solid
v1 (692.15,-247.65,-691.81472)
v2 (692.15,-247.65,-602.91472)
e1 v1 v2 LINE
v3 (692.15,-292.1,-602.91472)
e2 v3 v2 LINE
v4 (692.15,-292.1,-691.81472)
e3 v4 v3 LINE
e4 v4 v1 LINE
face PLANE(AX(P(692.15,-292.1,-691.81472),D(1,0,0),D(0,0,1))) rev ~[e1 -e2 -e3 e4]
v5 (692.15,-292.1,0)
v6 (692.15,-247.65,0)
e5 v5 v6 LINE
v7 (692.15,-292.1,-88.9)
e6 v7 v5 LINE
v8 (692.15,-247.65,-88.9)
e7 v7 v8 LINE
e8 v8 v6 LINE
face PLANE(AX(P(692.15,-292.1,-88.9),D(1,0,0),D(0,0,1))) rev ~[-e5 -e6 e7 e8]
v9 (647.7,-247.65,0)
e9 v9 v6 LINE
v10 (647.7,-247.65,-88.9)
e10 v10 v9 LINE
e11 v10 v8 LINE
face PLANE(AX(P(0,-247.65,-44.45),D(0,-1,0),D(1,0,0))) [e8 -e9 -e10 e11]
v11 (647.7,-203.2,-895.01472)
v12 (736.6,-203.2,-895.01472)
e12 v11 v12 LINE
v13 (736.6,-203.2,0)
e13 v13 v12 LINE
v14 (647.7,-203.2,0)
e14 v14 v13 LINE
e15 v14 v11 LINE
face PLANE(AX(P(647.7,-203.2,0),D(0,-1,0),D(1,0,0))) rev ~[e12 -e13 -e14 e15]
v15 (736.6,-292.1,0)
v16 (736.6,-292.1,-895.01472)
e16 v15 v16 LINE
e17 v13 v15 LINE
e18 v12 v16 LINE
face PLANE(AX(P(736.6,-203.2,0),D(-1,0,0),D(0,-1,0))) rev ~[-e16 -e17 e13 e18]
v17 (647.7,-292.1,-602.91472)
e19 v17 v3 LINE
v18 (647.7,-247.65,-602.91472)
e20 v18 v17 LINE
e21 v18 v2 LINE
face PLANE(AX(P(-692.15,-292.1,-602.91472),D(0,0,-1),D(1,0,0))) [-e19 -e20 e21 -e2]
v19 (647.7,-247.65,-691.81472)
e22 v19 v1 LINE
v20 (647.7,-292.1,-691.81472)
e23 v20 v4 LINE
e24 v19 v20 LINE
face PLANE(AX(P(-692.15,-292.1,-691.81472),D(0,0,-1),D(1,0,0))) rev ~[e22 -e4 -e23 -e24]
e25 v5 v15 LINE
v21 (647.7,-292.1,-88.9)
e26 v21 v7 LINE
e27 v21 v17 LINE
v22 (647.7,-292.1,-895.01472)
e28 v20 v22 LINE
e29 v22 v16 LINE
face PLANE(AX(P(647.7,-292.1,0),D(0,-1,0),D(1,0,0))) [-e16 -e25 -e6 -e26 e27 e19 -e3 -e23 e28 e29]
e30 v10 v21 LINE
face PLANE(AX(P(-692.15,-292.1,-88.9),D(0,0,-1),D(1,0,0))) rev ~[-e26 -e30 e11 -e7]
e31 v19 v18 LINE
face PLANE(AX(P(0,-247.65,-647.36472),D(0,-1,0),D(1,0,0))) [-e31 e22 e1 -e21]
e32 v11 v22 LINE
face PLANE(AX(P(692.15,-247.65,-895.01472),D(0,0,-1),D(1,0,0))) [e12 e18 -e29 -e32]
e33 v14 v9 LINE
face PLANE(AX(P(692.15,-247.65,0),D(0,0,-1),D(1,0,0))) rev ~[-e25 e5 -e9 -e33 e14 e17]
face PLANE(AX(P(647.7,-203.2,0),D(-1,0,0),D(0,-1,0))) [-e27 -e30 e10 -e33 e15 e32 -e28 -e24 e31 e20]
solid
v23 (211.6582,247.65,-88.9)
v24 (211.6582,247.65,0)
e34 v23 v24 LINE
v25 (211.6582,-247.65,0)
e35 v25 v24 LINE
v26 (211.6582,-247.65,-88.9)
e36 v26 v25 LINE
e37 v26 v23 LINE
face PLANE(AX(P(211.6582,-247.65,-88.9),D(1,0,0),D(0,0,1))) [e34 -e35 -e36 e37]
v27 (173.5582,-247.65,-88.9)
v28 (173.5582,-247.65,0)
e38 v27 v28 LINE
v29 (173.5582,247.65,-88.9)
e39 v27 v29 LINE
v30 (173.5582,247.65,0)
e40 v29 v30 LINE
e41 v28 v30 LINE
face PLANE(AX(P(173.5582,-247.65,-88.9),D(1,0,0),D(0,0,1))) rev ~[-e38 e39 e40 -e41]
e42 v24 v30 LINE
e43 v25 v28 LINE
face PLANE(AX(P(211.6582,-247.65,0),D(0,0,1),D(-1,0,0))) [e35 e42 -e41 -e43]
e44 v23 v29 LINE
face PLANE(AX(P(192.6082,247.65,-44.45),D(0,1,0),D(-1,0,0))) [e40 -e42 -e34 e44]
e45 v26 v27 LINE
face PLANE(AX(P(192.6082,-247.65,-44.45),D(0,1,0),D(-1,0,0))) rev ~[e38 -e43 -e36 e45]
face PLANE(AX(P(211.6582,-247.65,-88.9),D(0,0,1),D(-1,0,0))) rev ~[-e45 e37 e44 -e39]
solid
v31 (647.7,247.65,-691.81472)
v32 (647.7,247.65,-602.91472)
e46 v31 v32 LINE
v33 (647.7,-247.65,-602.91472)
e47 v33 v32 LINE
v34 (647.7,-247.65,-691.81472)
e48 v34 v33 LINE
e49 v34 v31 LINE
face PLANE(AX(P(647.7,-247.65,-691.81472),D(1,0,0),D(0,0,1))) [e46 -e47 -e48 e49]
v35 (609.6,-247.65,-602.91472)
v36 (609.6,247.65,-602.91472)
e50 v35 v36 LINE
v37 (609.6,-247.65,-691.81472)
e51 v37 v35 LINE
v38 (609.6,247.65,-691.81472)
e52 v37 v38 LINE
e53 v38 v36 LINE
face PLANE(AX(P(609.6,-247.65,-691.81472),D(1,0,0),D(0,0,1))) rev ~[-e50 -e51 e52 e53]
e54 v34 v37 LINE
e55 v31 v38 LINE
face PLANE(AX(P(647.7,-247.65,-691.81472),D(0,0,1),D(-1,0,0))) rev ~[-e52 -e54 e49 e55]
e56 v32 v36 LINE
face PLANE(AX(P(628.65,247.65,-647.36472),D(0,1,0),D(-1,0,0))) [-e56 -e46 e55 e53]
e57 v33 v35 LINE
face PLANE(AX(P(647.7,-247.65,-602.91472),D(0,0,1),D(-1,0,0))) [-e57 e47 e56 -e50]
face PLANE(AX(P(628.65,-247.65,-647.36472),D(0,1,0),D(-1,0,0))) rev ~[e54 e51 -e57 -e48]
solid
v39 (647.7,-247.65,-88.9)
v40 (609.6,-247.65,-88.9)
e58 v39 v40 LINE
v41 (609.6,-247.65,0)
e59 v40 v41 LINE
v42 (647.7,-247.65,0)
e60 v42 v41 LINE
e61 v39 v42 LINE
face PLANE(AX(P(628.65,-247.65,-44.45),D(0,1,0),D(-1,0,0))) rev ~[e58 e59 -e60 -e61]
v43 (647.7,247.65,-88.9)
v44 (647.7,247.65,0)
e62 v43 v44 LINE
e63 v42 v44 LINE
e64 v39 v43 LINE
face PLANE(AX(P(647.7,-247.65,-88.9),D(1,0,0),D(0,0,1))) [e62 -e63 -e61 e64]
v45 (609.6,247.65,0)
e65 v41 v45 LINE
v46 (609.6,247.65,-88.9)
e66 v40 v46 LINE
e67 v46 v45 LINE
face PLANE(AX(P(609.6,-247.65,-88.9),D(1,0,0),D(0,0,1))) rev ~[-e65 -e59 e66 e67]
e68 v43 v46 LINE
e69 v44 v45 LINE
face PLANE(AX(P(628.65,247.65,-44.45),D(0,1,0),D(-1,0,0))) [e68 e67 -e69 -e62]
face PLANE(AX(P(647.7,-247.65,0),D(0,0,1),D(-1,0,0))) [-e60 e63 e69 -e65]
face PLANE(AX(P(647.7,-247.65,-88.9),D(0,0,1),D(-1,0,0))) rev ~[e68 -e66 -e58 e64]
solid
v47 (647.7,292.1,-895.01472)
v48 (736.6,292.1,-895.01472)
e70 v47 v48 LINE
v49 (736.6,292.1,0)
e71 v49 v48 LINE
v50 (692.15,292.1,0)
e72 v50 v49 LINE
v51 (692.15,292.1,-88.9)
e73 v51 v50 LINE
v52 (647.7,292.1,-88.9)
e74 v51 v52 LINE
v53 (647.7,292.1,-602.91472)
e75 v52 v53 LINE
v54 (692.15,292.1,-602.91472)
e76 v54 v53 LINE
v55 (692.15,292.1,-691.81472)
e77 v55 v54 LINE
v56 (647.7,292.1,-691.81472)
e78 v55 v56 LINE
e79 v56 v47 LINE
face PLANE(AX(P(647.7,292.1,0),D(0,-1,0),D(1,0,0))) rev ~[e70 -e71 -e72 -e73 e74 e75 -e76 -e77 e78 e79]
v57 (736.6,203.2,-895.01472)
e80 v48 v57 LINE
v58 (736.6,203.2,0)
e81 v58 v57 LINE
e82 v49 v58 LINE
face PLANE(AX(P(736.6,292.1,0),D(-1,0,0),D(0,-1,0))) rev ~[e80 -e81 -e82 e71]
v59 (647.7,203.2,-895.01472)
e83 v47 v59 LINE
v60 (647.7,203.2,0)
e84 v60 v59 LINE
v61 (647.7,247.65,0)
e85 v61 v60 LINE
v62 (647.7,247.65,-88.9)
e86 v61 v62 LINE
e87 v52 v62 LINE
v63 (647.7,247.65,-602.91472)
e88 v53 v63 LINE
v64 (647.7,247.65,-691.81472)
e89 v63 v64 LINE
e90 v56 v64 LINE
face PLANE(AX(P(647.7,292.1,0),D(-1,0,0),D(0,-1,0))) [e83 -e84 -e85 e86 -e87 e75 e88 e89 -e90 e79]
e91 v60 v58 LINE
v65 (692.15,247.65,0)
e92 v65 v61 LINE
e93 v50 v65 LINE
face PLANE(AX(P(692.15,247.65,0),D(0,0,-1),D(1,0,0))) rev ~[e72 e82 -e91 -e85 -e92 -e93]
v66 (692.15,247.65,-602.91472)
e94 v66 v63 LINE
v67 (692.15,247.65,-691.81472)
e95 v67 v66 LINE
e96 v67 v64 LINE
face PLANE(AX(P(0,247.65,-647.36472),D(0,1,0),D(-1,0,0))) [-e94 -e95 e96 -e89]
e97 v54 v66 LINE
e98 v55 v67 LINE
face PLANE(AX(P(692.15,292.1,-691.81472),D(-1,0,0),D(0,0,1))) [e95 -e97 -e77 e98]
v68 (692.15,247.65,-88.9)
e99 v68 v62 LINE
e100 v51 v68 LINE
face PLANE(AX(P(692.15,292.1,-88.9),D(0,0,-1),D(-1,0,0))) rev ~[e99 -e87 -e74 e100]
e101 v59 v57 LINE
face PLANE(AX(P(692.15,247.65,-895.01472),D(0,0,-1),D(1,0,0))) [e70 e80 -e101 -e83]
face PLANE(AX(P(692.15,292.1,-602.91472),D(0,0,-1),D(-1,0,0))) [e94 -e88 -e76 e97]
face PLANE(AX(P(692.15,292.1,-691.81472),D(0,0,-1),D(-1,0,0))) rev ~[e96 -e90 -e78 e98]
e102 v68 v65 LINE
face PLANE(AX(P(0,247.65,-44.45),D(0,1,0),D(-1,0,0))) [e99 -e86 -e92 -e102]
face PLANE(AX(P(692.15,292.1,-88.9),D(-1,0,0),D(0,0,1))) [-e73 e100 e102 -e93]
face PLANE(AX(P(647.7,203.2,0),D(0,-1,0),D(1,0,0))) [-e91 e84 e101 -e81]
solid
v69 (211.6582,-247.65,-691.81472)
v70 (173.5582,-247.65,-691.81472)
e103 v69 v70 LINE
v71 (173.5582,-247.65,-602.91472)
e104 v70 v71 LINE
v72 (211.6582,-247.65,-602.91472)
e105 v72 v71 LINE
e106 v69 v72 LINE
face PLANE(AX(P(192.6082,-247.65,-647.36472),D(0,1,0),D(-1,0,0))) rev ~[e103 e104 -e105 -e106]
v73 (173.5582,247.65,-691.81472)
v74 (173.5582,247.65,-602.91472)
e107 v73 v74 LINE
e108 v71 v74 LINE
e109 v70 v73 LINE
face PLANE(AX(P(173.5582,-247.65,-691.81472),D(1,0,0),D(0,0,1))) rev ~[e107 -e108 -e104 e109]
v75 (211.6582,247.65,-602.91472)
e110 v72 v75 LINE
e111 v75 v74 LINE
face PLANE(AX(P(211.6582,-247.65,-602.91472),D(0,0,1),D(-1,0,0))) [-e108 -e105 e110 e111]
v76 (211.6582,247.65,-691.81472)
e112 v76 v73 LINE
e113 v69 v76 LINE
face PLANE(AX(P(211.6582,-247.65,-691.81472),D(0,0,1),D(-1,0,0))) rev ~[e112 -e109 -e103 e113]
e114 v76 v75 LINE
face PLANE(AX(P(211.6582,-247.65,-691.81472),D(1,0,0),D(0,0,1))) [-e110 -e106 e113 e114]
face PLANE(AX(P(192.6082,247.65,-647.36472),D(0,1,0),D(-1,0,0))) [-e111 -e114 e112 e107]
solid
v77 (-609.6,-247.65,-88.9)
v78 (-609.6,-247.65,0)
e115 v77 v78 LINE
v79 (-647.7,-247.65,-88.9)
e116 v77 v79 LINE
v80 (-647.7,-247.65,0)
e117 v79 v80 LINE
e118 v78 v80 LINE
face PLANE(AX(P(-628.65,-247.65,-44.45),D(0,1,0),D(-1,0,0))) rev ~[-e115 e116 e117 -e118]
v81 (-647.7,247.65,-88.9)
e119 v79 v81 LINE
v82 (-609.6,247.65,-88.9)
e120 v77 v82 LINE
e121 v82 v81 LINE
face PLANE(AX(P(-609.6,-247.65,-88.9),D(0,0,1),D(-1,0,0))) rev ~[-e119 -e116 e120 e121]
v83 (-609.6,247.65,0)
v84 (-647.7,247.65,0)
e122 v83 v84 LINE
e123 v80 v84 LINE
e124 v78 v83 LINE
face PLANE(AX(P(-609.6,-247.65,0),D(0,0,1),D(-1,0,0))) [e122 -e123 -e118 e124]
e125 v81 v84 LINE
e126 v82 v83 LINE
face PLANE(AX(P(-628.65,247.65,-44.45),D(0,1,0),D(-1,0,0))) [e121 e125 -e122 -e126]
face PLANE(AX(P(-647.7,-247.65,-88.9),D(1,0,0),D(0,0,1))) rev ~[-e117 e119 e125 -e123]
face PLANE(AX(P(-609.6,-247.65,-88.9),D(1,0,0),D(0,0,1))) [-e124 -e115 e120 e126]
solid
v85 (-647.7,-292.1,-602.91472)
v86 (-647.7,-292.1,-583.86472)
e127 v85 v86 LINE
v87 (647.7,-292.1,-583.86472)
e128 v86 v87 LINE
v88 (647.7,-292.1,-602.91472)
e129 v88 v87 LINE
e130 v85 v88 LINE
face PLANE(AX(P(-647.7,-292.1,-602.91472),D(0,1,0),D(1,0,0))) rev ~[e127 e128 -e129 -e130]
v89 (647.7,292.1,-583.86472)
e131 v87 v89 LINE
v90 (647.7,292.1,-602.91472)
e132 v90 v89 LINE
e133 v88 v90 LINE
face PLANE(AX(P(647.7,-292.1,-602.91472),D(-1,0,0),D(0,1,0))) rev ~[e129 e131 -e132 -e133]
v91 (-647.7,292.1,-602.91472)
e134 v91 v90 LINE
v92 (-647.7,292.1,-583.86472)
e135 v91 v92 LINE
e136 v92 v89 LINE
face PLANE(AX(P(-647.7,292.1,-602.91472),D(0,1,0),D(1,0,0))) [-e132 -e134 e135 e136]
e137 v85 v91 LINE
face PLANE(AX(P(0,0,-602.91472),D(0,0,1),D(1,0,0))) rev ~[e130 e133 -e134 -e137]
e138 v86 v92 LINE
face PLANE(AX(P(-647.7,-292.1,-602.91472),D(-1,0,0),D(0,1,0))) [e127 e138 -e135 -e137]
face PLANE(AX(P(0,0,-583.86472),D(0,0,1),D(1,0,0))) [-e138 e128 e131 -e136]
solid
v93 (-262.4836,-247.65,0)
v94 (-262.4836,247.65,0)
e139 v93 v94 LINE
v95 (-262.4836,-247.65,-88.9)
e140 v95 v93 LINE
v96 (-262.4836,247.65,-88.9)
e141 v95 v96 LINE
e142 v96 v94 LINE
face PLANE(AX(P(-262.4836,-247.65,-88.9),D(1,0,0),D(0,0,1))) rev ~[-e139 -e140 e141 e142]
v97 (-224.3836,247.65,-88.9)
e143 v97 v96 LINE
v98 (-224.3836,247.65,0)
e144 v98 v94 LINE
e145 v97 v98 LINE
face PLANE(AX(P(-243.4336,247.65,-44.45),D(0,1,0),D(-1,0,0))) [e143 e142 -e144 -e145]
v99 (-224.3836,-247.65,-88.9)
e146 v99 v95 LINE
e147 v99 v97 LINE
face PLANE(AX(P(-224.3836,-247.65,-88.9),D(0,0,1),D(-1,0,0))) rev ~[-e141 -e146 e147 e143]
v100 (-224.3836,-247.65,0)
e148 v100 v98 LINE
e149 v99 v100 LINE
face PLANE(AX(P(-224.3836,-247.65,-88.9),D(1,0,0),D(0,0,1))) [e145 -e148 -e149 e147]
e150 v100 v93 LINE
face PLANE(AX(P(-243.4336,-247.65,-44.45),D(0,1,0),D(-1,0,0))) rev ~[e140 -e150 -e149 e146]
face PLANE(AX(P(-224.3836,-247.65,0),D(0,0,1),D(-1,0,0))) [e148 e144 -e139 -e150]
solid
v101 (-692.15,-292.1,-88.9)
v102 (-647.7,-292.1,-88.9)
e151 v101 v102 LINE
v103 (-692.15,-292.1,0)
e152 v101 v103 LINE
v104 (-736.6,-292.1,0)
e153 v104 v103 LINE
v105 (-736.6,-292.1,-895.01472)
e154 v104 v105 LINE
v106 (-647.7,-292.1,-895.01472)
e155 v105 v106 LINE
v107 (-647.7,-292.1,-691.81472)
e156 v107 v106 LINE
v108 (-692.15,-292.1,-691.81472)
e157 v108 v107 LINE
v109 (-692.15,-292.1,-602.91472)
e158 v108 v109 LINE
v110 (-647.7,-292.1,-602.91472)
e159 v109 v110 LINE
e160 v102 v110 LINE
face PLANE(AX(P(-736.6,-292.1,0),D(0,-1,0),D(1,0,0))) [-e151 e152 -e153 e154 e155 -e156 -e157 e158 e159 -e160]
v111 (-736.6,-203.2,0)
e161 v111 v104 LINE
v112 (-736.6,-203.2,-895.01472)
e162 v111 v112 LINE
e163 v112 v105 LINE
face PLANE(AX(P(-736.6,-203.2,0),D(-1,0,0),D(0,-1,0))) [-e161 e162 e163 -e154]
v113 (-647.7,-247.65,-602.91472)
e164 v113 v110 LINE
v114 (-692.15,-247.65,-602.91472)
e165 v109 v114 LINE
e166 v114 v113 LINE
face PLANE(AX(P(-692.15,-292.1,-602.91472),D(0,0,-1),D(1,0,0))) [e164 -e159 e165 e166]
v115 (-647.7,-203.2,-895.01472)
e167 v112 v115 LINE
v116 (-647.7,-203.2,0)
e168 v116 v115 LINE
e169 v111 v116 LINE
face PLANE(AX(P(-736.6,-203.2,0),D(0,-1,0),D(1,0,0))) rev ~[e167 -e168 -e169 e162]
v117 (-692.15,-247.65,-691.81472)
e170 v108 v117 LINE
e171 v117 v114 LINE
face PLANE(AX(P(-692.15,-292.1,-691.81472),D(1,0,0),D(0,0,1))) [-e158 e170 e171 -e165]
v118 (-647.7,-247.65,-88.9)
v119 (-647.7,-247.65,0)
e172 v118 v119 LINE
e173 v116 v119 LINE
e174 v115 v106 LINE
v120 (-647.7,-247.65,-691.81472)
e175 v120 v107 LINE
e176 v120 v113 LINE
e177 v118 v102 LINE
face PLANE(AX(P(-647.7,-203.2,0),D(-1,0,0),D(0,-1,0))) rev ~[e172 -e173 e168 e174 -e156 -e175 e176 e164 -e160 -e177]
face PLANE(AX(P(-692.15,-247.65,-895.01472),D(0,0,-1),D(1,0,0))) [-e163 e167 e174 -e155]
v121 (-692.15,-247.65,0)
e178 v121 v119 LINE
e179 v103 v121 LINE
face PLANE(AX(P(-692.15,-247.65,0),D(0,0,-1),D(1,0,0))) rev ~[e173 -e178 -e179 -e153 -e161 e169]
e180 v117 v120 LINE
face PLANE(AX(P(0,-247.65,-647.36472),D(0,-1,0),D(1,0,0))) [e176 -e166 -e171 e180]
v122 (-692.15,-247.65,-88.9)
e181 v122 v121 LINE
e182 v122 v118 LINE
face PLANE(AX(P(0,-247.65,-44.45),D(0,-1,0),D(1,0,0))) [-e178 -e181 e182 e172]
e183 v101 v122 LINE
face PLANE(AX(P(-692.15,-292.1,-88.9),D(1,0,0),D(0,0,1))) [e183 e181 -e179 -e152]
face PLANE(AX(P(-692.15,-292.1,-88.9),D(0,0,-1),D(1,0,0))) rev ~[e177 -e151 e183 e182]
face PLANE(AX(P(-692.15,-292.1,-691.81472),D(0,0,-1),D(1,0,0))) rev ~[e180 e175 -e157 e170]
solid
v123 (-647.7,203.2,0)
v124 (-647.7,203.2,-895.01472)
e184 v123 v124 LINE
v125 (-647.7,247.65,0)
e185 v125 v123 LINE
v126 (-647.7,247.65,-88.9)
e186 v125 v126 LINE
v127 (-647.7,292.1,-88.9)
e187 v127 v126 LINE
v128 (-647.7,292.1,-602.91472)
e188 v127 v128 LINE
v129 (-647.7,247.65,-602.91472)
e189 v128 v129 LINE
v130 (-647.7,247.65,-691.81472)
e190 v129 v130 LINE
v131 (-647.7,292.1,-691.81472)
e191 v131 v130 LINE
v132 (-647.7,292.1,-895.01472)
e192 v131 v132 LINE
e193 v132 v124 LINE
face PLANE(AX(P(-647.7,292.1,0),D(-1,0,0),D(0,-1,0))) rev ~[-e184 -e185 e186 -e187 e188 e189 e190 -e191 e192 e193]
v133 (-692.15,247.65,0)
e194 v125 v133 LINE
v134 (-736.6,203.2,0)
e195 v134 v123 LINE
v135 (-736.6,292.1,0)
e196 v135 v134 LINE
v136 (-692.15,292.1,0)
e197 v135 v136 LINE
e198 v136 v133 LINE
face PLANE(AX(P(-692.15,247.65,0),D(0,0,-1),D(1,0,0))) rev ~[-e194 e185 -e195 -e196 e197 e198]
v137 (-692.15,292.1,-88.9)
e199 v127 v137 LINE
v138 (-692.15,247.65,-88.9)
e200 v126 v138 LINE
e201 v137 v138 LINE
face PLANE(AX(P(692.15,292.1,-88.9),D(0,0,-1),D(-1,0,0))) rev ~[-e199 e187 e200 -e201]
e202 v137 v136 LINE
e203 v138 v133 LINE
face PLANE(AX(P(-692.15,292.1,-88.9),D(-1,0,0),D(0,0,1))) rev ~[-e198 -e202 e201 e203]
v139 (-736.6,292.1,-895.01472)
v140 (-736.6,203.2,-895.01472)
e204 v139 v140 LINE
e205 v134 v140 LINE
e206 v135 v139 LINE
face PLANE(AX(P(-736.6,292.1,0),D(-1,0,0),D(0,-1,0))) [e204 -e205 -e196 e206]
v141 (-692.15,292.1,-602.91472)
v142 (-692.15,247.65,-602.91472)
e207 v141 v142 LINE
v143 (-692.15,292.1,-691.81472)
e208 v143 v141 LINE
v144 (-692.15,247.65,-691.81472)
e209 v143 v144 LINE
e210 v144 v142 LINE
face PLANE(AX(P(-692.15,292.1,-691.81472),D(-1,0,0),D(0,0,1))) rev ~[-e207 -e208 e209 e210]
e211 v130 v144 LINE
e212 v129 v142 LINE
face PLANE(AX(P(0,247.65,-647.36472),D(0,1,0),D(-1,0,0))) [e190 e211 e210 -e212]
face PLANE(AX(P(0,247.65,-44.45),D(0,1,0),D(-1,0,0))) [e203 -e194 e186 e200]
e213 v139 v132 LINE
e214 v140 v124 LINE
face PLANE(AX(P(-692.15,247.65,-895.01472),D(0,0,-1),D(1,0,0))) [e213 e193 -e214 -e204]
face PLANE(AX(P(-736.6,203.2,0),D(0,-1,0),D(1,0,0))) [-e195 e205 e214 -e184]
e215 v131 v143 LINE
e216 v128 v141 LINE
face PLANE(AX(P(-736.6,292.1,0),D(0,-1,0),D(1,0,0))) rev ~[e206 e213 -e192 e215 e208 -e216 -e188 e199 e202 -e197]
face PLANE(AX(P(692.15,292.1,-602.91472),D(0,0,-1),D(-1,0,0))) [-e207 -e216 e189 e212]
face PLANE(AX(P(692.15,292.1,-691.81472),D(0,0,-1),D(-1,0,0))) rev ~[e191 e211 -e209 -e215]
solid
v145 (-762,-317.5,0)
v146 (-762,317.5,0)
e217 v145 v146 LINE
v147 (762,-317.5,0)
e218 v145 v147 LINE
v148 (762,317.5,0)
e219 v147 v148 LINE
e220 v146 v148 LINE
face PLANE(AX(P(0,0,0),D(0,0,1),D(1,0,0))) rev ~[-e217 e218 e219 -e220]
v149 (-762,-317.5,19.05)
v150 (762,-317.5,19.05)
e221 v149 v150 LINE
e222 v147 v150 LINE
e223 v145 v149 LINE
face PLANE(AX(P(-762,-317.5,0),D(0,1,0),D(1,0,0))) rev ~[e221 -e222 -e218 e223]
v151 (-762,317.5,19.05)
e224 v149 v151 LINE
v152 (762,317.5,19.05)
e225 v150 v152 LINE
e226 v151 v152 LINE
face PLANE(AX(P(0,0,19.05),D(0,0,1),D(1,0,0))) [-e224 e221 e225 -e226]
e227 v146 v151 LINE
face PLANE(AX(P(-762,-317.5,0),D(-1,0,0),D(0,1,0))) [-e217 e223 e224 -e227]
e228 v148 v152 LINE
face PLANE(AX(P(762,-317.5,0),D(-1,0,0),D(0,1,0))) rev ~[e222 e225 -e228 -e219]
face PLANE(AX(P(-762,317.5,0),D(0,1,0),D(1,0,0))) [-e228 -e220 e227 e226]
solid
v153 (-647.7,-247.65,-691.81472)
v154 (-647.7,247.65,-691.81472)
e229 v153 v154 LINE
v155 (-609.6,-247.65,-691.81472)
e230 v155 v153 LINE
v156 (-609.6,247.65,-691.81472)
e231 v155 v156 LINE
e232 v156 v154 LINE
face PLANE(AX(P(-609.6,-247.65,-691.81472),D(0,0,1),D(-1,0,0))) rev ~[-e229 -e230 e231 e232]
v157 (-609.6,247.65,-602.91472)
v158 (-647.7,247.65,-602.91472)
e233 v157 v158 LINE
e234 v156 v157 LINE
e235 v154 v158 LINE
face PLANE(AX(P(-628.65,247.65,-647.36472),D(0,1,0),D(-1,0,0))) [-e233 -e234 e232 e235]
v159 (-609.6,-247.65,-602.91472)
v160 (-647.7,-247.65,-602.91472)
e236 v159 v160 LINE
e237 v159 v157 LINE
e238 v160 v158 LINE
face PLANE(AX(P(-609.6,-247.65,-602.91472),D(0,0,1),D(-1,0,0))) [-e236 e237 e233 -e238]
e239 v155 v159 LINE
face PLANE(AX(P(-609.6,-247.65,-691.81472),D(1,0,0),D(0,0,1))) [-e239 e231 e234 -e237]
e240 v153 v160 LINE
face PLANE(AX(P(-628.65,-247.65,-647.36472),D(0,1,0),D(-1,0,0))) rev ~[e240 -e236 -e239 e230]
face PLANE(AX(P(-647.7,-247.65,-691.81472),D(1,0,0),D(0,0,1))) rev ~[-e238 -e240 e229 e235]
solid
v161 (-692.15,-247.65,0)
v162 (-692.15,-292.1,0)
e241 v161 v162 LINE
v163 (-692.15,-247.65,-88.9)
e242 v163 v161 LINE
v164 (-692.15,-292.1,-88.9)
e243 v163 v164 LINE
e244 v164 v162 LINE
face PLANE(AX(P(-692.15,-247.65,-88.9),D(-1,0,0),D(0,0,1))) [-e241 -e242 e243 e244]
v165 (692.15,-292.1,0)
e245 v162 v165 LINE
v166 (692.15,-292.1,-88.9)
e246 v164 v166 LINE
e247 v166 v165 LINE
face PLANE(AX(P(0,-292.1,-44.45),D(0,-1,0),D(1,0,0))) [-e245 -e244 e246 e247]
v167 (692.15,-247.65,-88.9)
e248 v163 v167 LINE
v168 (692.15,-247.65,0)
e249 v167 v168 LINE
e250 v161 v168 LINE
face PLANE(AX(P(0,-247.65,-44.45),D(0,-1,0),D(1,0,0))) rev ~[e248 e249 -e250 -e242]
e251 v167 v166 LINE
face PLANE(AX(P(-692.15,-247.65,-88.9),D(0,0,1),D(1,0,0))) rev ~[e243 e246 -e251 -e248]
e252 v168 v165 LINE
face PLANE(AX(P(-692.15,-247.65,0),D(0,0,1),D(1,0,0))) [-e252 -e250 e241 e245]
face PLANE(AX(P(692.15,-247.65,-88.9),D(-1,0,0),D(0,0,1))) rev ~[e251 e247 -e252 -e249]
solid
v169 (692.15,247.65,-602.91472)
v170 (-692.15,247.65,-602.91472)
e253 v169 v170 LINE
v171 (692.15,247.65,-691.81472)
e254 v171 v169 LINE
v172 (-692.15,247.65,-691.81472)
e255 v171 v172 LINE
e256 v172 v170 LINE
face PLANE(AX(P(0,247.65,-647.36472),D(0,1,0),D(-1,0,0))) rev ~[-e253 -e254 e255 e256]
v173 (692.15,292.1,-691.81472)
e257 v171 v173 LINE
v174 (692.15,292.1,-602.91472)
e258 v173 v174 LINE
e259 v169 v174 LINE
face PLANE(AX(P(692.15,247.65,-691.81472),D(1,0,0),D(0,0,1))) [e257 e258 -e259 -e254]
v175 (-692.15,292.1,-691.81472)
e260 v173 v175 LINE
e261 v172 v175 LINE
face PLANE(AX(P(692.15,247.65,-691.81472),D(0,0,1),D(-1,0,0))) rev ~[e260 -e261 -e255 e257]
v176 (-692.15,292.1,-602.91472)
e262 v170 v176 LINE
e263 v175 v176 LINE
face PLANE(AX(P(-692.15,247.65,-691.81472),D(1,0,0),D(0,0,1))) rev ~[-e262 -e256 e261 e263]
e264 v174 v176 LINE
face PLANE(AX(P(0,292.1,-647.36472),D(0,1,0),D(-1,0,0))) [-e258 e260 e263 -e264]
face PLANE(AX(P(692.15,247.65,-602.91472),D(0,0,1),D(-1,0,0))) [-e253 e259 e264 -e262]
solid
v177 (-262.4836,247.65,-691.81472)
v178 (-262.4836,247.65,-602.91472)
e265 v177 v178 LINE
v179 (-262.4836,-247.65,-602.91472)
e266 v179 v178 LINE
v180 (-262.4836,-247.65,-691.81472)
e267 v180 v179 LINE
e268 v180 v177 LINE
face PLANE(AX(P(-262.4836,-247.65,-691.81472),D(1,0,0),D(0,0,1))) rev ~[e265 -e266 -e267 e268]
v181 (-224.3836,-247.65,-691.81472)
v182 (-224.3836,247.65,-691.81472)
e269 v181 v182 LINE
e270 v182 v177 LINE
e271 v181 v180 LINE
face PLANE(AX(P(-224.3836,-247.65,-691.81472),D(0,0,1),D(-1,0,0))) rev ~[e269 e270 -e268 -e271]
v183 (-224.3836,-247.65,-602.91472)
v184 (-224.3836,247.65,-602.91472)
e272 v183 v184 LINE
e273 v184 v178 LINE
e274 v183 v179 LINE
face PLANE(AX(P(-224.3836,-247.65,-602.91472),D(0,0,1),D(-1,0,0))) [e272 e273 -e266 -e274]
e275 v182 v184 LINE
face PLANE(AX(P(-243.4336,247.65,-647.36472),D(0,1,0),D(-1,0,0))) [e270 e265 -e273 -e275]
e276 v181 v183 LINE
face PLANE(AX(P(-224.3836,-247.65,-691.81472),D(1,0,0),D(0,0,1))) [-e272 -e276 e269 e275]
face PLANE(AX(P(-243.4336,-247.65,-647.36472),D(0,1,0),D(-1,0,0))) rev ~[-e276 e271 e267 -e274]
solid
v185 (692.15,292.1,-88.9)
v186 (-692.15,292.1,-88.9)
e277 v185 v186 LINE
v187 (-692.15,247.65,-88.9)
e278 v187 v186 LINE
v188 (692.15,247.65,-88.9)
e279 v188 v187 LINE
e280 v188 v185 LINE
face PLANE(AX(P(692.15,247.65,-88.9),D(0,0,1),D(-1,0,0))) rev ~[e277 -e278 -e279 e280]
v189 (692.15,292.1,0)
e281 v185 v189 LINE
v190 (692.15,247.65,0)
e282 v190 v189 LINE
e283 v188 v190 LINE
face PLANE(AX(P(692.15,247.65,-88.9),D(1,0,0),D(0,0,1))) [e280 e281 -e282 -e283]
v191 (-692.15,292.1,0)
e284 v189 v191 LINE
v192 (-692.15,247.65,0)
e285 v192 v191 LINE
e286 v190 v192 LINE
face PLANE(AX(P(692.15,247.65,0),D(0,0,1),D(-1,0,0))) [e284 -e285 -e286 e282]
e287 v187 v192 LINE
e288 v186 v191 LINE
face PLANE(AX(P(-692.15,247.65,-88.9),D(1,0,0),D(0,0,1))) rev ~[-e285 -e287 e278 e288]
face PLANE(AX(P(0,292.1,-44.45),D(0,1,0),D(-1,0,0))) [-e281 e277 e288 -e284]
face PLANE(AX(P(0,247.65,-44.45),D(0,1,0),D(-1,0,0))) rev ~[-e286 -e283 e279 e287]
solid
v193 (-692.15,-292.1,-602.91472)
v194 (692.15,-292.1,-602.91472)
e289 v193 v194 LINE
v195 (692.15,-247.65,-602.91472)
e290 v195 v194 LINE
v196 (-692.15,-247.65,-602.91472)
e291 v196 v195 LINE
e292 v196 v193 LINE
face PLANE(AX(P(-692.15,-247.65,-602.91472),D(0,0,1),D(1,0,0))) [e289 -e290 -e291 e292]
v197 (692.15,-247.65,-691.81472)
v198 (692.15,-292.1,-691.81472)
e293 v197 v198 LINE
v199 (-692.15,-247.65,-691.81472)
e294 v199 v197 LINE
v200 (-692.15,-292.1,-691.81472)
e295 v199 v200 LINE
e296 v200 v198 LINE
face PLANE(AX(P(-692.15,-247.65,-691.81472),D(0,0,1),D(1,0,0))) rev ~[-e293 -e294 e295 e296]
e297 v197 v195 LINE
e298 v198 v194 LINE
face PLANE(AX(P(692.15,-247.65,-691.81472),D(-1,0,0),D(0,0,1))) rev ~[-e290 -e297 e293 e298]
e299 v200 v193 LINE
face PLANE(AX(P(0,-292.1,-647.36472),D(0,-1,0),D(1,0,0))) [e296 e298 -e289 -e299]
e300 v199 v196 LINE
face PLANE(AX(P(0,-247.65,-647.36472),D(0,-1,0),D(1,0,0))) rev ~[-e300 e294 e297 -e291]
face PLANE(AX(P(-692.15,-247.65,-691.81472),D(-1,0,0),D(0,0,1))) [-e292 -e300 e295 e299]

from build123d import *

# Parameters (mm, degrees)
F0_W      = 1524
F0_H      = 635
F1_DEPTH  = 19.05
F2_W      = 88.9
F2_H      = 88.9
F3_DEPTH  = 895.01472
F4_W      = 1384.3
F4_H      = 88.9
F5_DEPTH  = 44.45
F6_W      = 1384.3
F6_H      = 88.9
F7_DEPTH  = 44.45
F8_W      = 1384.3
F8_H      = 88.9
F9_DEPTH  = 44.45
F10_W     = 1384.3
F10_H     = 88.9
F11_DEPTH = 44.45
F12_W     = 38.1
F12_H     = 88.9
F13_DEPTH = 495.3
F14_W     = 1295.4
F14_H     = 584.2
F15_DEPTH = 19.05


with BuildPart() as f1:
    # F0 (on Top) → F1 (new body)
    with BuildSketch(Plane.XY):
        Rectangle(F0_W, F0_H)
    extrude(amount=F1_DEPTH)


with BuildPart() as f3:
    # F2 (on face) → F3 (new body)
    with BuildSketch(Plane(origin=(0, 0, 0), x_dir=(1, 0, 0), z_dir=(0, 0, -1))):
        with Locations((-692.15, 247.65)):
            Rectangle(F2_W, F2_H)
    extrude(amount=F3_DEPTH)


with BuildPart() as f3b:
    # F2 (on face) → F3, piece 2 (new body)
    with BuildSketch(Plane(origin=(0, 0, 0), x_dir=(1, 0, 0), z_dir=(0, 0, -1))):
        with Locations((692.15, 247.65)):
            Rectangle(F2_W, F2_H)
    extrude(amount=F3_DEPTH)


with BuildPart() as f3c:
    # F2 (on face) → F3, piece 3 (new body)
    with BuildSketch(Plane(origin=(0, 0, 0), x_dir=(1, 0, 0), z_dir=(0, 0, -1))):
        with Locations((-692.15, -247.65)):
            Rectangle(F2_W, F2_H)
    extrude(amount=F3_DEPTH)


with BuildPart() as f3d:
    # F2 (on face) → F3, piece 4 (new body)
    with BuildSketch(Plane(origin=(0, 0, 0), x_dir=(1, 0, 0), z_dir=(0, 0, -1))):
        with Locations((692.15, -247.65)):
            Rectangle(F2_W, F2_H)
    extrude(amount=F3_DEPTH)


with BuildPart() as f5_tool:
    # F4 (on face) → F5 (new body)
    with BuildSketch(Plane.XZ.offset(292.1)):
        with Locations((0, -44.45)):
            Rectangle(F4_W, F4_H)
        with Locations((0, -647.36472)):
            Rectangle(F4_W, F4_H)
    extrude(amount=-F5_DEPTH)


with BuildPart() as f3_1:
    add(f3.part)

    # F5: cut by f5_tool
    add(f5_tool.part, mode=Mode.SUBTRACT)


with BuildPart() as f3b_1:
    add(f3b.part)

    # F5: cut by f5_tool
    add(f5_tool.part, mode=Mode.SUBTRACT)


with BuildPart() as f7_tool:
    # F6 (on face) → F7 (new body)
    with BuildSketch(Plane(origin=(0, 292.1, 0), x_dir=(-1, 0, 0), z_dir=(0, 1, 0))):
        with Locations((0, -44.45)):
            Rectangle(F6_W, F6_H)
        with Locations((0, -647.36472)):
            Rectangle(F6_W, F6_H)
    extrude(amount=-F7_DEPTH)


with BuildPart() as f3c_1:
    add(f3c.part)

    # F7: cut by f7_tool
    add(f7_tool.part, mode=Mode.SUBTRACT)


with BuildPart() as f3d_1:
    add(f3d.part)

    # F7: cut by f7_tool
    add(f7_tool.part, mode=Mode.SUBTRACT)


with BuildPart() as f9:
    # F8 (on face) → F9 (new body, through all)
    with BuildSketch(Plane.XZ.offset(247.65)):
        with Locations((0, -44.45)):
            Rectangle(F8_W, F8_H)
    extrude(amount=F9_DEPTH)


with BuildPart() as f9b:
    # F8 (on face) → F9, piece 2 (new body, through all)
    with BuildSketch(Plane.XZ.offset(247.65)):
        with Locations((0, -647.36472)):
            Rectangle(F8_W, F8_H)
    extrude(amount=F9_DEPTH)


with BuildPart() as f11:
    # F10 (on face) → F11 (new body, through all)
    with BuildSketch(Plane(origin=(0, 247.65, 0), x_dir=(-1, 0, 0), z_dir=(0, 1, 0))):
        with Locations((0, -44.45)):
            Rectangle(F10_W, F10_H)
    extrude(amount=F11_DEPTH)


with BuildPart() as f11b:
    # F10 (on face) → F11, piece 2 (new body, through all)
    with BuildSketch(Plane(origin=(0, 247.65, 0), x_dir=(-1, 0, 0), z_dir=(0, 1, 0))):
        with Locations((0, -647.36472)):
            Rectangle(F10_W, F10_H)
    extrude(amount=F11_DEPTH)


with BuildPart() as f13:
    # F12 (on face) → F13 (new body, through all)
    with BuildSketch(Plane(origin=(0, -247.65, 0), x_dir=(-1, 0, 0), z_dir=(0, 1, 0))):
        with Locations((-628.65, -44.45)):
            Rectangle(F12_W, F12_H)
    extrude(amount=F13_DEPTH)


with BuildPart() as f13b:
    # F12 (on face) → F13, piece 2 (new body, through all)
    with BuildSketch(Plane(origin=(0, -247.65, 0), x_dir=(-1, 0, 0), z_dir=(0, 1, 0))):
        with Locations((628.65, -44.45)):
            Rectangle(F12_W, F12_H)
    extrude(amount=F13_DEPTH)


with BuildPart() as f13c:
    # F12 (on face) → F13, piece 3 (new body, through all)
    with BuildSketch(Plane(origin=(0, -247.65, 0), x_dir=(-1, 0, 0), z_dir=(0, 1, 0))):
        with Locations((-192.6082, -44.45)):
            Rectangle(F12_W, F12_H)
    extrude(amount=F13_DEPTH)


with BuildPart() as f13d:
    # F12 (on face) → F13, piece 4 (new body, through all)
    with BuildSketch(Plane(origin=(0, -247.65, 0), x_dir=(-1, 0, 0), z_dir=(0, 1, 0))):
        with Locations((243.4336, -44.45)):
            Rectangle(F12_W, F12_H)
    extrude(amount=F13_DEPTH)


with BuildPart() as f13e:
    # F12 (on face) → F13, piece 5 (new body, through all)
    with BuildSketch(Plane(origin=(0, -247.65, 0), x_dir=(-1, 0, 0), z_dir=(0, 1, 0))):
        with Locations((243.4336, -647.36472)):
            Rectangle(F12_W, F12_H)
    extrude(amount=F13_DEPTH)


with BuildPart() as f13f:
    # F12 (on face) → F13, piece 6 (new body, through all)
    with BuildSketch(Plane(origin=(0, -247.65, 0), x_dir=(-1, 0, 0), z_dir=(0, 1, 0))):
        with Locations((-192.6082, -647.36472)):
            Rectangle(F12_W, F12_H)
    extrude(amount=F13_DEPTH)


with BuildPart() as f13g:
    # F12 (on face) → F13, piece 7 (new body, through all)
    with BuildSketch(Plane(origin=(0, -247.65, 0), x_dir=(-1, 0, 0), z_dir=(0, 1, 0))):
        with Locations((-628.65, -647.36472)):
            Rectangle(F12_W, F12_H)
    extrude(amount=F13_DEPTH)


with BuildPart() as f13h:
    # F12 (on face) → F13, piece 8 (new body, through all)
    with BuildSketch(Plane(origin=(0, -247.65, 0), x_dir=(-1, 0, 0), z_dir=(0, 1, 0))):
        with Locations((628.65, -647.36472)):
            Rectangle(F12_W, F12_H)
    extrude(amount=F13_DEPTH)


with BuildPart() as f15:
    # F14 (on face) → F15 (new body)
    with BuildSketch(Plane.XY.offset(-602.91472)):
        Rectangle(F14_W, F14_H)
    extrude(amount=F15_DEPTH)


solid = Compound([f1.part, f3_1.part, f3b_1.part, f3c_1.part, f3d_1.part, f9.part, f9b.part, f11.part, f11b.part, f13.part, f13b.part, f13c.part, f13d.part, f13e.part, f13f.part, f13g.part, f13h.part, f15.part])
